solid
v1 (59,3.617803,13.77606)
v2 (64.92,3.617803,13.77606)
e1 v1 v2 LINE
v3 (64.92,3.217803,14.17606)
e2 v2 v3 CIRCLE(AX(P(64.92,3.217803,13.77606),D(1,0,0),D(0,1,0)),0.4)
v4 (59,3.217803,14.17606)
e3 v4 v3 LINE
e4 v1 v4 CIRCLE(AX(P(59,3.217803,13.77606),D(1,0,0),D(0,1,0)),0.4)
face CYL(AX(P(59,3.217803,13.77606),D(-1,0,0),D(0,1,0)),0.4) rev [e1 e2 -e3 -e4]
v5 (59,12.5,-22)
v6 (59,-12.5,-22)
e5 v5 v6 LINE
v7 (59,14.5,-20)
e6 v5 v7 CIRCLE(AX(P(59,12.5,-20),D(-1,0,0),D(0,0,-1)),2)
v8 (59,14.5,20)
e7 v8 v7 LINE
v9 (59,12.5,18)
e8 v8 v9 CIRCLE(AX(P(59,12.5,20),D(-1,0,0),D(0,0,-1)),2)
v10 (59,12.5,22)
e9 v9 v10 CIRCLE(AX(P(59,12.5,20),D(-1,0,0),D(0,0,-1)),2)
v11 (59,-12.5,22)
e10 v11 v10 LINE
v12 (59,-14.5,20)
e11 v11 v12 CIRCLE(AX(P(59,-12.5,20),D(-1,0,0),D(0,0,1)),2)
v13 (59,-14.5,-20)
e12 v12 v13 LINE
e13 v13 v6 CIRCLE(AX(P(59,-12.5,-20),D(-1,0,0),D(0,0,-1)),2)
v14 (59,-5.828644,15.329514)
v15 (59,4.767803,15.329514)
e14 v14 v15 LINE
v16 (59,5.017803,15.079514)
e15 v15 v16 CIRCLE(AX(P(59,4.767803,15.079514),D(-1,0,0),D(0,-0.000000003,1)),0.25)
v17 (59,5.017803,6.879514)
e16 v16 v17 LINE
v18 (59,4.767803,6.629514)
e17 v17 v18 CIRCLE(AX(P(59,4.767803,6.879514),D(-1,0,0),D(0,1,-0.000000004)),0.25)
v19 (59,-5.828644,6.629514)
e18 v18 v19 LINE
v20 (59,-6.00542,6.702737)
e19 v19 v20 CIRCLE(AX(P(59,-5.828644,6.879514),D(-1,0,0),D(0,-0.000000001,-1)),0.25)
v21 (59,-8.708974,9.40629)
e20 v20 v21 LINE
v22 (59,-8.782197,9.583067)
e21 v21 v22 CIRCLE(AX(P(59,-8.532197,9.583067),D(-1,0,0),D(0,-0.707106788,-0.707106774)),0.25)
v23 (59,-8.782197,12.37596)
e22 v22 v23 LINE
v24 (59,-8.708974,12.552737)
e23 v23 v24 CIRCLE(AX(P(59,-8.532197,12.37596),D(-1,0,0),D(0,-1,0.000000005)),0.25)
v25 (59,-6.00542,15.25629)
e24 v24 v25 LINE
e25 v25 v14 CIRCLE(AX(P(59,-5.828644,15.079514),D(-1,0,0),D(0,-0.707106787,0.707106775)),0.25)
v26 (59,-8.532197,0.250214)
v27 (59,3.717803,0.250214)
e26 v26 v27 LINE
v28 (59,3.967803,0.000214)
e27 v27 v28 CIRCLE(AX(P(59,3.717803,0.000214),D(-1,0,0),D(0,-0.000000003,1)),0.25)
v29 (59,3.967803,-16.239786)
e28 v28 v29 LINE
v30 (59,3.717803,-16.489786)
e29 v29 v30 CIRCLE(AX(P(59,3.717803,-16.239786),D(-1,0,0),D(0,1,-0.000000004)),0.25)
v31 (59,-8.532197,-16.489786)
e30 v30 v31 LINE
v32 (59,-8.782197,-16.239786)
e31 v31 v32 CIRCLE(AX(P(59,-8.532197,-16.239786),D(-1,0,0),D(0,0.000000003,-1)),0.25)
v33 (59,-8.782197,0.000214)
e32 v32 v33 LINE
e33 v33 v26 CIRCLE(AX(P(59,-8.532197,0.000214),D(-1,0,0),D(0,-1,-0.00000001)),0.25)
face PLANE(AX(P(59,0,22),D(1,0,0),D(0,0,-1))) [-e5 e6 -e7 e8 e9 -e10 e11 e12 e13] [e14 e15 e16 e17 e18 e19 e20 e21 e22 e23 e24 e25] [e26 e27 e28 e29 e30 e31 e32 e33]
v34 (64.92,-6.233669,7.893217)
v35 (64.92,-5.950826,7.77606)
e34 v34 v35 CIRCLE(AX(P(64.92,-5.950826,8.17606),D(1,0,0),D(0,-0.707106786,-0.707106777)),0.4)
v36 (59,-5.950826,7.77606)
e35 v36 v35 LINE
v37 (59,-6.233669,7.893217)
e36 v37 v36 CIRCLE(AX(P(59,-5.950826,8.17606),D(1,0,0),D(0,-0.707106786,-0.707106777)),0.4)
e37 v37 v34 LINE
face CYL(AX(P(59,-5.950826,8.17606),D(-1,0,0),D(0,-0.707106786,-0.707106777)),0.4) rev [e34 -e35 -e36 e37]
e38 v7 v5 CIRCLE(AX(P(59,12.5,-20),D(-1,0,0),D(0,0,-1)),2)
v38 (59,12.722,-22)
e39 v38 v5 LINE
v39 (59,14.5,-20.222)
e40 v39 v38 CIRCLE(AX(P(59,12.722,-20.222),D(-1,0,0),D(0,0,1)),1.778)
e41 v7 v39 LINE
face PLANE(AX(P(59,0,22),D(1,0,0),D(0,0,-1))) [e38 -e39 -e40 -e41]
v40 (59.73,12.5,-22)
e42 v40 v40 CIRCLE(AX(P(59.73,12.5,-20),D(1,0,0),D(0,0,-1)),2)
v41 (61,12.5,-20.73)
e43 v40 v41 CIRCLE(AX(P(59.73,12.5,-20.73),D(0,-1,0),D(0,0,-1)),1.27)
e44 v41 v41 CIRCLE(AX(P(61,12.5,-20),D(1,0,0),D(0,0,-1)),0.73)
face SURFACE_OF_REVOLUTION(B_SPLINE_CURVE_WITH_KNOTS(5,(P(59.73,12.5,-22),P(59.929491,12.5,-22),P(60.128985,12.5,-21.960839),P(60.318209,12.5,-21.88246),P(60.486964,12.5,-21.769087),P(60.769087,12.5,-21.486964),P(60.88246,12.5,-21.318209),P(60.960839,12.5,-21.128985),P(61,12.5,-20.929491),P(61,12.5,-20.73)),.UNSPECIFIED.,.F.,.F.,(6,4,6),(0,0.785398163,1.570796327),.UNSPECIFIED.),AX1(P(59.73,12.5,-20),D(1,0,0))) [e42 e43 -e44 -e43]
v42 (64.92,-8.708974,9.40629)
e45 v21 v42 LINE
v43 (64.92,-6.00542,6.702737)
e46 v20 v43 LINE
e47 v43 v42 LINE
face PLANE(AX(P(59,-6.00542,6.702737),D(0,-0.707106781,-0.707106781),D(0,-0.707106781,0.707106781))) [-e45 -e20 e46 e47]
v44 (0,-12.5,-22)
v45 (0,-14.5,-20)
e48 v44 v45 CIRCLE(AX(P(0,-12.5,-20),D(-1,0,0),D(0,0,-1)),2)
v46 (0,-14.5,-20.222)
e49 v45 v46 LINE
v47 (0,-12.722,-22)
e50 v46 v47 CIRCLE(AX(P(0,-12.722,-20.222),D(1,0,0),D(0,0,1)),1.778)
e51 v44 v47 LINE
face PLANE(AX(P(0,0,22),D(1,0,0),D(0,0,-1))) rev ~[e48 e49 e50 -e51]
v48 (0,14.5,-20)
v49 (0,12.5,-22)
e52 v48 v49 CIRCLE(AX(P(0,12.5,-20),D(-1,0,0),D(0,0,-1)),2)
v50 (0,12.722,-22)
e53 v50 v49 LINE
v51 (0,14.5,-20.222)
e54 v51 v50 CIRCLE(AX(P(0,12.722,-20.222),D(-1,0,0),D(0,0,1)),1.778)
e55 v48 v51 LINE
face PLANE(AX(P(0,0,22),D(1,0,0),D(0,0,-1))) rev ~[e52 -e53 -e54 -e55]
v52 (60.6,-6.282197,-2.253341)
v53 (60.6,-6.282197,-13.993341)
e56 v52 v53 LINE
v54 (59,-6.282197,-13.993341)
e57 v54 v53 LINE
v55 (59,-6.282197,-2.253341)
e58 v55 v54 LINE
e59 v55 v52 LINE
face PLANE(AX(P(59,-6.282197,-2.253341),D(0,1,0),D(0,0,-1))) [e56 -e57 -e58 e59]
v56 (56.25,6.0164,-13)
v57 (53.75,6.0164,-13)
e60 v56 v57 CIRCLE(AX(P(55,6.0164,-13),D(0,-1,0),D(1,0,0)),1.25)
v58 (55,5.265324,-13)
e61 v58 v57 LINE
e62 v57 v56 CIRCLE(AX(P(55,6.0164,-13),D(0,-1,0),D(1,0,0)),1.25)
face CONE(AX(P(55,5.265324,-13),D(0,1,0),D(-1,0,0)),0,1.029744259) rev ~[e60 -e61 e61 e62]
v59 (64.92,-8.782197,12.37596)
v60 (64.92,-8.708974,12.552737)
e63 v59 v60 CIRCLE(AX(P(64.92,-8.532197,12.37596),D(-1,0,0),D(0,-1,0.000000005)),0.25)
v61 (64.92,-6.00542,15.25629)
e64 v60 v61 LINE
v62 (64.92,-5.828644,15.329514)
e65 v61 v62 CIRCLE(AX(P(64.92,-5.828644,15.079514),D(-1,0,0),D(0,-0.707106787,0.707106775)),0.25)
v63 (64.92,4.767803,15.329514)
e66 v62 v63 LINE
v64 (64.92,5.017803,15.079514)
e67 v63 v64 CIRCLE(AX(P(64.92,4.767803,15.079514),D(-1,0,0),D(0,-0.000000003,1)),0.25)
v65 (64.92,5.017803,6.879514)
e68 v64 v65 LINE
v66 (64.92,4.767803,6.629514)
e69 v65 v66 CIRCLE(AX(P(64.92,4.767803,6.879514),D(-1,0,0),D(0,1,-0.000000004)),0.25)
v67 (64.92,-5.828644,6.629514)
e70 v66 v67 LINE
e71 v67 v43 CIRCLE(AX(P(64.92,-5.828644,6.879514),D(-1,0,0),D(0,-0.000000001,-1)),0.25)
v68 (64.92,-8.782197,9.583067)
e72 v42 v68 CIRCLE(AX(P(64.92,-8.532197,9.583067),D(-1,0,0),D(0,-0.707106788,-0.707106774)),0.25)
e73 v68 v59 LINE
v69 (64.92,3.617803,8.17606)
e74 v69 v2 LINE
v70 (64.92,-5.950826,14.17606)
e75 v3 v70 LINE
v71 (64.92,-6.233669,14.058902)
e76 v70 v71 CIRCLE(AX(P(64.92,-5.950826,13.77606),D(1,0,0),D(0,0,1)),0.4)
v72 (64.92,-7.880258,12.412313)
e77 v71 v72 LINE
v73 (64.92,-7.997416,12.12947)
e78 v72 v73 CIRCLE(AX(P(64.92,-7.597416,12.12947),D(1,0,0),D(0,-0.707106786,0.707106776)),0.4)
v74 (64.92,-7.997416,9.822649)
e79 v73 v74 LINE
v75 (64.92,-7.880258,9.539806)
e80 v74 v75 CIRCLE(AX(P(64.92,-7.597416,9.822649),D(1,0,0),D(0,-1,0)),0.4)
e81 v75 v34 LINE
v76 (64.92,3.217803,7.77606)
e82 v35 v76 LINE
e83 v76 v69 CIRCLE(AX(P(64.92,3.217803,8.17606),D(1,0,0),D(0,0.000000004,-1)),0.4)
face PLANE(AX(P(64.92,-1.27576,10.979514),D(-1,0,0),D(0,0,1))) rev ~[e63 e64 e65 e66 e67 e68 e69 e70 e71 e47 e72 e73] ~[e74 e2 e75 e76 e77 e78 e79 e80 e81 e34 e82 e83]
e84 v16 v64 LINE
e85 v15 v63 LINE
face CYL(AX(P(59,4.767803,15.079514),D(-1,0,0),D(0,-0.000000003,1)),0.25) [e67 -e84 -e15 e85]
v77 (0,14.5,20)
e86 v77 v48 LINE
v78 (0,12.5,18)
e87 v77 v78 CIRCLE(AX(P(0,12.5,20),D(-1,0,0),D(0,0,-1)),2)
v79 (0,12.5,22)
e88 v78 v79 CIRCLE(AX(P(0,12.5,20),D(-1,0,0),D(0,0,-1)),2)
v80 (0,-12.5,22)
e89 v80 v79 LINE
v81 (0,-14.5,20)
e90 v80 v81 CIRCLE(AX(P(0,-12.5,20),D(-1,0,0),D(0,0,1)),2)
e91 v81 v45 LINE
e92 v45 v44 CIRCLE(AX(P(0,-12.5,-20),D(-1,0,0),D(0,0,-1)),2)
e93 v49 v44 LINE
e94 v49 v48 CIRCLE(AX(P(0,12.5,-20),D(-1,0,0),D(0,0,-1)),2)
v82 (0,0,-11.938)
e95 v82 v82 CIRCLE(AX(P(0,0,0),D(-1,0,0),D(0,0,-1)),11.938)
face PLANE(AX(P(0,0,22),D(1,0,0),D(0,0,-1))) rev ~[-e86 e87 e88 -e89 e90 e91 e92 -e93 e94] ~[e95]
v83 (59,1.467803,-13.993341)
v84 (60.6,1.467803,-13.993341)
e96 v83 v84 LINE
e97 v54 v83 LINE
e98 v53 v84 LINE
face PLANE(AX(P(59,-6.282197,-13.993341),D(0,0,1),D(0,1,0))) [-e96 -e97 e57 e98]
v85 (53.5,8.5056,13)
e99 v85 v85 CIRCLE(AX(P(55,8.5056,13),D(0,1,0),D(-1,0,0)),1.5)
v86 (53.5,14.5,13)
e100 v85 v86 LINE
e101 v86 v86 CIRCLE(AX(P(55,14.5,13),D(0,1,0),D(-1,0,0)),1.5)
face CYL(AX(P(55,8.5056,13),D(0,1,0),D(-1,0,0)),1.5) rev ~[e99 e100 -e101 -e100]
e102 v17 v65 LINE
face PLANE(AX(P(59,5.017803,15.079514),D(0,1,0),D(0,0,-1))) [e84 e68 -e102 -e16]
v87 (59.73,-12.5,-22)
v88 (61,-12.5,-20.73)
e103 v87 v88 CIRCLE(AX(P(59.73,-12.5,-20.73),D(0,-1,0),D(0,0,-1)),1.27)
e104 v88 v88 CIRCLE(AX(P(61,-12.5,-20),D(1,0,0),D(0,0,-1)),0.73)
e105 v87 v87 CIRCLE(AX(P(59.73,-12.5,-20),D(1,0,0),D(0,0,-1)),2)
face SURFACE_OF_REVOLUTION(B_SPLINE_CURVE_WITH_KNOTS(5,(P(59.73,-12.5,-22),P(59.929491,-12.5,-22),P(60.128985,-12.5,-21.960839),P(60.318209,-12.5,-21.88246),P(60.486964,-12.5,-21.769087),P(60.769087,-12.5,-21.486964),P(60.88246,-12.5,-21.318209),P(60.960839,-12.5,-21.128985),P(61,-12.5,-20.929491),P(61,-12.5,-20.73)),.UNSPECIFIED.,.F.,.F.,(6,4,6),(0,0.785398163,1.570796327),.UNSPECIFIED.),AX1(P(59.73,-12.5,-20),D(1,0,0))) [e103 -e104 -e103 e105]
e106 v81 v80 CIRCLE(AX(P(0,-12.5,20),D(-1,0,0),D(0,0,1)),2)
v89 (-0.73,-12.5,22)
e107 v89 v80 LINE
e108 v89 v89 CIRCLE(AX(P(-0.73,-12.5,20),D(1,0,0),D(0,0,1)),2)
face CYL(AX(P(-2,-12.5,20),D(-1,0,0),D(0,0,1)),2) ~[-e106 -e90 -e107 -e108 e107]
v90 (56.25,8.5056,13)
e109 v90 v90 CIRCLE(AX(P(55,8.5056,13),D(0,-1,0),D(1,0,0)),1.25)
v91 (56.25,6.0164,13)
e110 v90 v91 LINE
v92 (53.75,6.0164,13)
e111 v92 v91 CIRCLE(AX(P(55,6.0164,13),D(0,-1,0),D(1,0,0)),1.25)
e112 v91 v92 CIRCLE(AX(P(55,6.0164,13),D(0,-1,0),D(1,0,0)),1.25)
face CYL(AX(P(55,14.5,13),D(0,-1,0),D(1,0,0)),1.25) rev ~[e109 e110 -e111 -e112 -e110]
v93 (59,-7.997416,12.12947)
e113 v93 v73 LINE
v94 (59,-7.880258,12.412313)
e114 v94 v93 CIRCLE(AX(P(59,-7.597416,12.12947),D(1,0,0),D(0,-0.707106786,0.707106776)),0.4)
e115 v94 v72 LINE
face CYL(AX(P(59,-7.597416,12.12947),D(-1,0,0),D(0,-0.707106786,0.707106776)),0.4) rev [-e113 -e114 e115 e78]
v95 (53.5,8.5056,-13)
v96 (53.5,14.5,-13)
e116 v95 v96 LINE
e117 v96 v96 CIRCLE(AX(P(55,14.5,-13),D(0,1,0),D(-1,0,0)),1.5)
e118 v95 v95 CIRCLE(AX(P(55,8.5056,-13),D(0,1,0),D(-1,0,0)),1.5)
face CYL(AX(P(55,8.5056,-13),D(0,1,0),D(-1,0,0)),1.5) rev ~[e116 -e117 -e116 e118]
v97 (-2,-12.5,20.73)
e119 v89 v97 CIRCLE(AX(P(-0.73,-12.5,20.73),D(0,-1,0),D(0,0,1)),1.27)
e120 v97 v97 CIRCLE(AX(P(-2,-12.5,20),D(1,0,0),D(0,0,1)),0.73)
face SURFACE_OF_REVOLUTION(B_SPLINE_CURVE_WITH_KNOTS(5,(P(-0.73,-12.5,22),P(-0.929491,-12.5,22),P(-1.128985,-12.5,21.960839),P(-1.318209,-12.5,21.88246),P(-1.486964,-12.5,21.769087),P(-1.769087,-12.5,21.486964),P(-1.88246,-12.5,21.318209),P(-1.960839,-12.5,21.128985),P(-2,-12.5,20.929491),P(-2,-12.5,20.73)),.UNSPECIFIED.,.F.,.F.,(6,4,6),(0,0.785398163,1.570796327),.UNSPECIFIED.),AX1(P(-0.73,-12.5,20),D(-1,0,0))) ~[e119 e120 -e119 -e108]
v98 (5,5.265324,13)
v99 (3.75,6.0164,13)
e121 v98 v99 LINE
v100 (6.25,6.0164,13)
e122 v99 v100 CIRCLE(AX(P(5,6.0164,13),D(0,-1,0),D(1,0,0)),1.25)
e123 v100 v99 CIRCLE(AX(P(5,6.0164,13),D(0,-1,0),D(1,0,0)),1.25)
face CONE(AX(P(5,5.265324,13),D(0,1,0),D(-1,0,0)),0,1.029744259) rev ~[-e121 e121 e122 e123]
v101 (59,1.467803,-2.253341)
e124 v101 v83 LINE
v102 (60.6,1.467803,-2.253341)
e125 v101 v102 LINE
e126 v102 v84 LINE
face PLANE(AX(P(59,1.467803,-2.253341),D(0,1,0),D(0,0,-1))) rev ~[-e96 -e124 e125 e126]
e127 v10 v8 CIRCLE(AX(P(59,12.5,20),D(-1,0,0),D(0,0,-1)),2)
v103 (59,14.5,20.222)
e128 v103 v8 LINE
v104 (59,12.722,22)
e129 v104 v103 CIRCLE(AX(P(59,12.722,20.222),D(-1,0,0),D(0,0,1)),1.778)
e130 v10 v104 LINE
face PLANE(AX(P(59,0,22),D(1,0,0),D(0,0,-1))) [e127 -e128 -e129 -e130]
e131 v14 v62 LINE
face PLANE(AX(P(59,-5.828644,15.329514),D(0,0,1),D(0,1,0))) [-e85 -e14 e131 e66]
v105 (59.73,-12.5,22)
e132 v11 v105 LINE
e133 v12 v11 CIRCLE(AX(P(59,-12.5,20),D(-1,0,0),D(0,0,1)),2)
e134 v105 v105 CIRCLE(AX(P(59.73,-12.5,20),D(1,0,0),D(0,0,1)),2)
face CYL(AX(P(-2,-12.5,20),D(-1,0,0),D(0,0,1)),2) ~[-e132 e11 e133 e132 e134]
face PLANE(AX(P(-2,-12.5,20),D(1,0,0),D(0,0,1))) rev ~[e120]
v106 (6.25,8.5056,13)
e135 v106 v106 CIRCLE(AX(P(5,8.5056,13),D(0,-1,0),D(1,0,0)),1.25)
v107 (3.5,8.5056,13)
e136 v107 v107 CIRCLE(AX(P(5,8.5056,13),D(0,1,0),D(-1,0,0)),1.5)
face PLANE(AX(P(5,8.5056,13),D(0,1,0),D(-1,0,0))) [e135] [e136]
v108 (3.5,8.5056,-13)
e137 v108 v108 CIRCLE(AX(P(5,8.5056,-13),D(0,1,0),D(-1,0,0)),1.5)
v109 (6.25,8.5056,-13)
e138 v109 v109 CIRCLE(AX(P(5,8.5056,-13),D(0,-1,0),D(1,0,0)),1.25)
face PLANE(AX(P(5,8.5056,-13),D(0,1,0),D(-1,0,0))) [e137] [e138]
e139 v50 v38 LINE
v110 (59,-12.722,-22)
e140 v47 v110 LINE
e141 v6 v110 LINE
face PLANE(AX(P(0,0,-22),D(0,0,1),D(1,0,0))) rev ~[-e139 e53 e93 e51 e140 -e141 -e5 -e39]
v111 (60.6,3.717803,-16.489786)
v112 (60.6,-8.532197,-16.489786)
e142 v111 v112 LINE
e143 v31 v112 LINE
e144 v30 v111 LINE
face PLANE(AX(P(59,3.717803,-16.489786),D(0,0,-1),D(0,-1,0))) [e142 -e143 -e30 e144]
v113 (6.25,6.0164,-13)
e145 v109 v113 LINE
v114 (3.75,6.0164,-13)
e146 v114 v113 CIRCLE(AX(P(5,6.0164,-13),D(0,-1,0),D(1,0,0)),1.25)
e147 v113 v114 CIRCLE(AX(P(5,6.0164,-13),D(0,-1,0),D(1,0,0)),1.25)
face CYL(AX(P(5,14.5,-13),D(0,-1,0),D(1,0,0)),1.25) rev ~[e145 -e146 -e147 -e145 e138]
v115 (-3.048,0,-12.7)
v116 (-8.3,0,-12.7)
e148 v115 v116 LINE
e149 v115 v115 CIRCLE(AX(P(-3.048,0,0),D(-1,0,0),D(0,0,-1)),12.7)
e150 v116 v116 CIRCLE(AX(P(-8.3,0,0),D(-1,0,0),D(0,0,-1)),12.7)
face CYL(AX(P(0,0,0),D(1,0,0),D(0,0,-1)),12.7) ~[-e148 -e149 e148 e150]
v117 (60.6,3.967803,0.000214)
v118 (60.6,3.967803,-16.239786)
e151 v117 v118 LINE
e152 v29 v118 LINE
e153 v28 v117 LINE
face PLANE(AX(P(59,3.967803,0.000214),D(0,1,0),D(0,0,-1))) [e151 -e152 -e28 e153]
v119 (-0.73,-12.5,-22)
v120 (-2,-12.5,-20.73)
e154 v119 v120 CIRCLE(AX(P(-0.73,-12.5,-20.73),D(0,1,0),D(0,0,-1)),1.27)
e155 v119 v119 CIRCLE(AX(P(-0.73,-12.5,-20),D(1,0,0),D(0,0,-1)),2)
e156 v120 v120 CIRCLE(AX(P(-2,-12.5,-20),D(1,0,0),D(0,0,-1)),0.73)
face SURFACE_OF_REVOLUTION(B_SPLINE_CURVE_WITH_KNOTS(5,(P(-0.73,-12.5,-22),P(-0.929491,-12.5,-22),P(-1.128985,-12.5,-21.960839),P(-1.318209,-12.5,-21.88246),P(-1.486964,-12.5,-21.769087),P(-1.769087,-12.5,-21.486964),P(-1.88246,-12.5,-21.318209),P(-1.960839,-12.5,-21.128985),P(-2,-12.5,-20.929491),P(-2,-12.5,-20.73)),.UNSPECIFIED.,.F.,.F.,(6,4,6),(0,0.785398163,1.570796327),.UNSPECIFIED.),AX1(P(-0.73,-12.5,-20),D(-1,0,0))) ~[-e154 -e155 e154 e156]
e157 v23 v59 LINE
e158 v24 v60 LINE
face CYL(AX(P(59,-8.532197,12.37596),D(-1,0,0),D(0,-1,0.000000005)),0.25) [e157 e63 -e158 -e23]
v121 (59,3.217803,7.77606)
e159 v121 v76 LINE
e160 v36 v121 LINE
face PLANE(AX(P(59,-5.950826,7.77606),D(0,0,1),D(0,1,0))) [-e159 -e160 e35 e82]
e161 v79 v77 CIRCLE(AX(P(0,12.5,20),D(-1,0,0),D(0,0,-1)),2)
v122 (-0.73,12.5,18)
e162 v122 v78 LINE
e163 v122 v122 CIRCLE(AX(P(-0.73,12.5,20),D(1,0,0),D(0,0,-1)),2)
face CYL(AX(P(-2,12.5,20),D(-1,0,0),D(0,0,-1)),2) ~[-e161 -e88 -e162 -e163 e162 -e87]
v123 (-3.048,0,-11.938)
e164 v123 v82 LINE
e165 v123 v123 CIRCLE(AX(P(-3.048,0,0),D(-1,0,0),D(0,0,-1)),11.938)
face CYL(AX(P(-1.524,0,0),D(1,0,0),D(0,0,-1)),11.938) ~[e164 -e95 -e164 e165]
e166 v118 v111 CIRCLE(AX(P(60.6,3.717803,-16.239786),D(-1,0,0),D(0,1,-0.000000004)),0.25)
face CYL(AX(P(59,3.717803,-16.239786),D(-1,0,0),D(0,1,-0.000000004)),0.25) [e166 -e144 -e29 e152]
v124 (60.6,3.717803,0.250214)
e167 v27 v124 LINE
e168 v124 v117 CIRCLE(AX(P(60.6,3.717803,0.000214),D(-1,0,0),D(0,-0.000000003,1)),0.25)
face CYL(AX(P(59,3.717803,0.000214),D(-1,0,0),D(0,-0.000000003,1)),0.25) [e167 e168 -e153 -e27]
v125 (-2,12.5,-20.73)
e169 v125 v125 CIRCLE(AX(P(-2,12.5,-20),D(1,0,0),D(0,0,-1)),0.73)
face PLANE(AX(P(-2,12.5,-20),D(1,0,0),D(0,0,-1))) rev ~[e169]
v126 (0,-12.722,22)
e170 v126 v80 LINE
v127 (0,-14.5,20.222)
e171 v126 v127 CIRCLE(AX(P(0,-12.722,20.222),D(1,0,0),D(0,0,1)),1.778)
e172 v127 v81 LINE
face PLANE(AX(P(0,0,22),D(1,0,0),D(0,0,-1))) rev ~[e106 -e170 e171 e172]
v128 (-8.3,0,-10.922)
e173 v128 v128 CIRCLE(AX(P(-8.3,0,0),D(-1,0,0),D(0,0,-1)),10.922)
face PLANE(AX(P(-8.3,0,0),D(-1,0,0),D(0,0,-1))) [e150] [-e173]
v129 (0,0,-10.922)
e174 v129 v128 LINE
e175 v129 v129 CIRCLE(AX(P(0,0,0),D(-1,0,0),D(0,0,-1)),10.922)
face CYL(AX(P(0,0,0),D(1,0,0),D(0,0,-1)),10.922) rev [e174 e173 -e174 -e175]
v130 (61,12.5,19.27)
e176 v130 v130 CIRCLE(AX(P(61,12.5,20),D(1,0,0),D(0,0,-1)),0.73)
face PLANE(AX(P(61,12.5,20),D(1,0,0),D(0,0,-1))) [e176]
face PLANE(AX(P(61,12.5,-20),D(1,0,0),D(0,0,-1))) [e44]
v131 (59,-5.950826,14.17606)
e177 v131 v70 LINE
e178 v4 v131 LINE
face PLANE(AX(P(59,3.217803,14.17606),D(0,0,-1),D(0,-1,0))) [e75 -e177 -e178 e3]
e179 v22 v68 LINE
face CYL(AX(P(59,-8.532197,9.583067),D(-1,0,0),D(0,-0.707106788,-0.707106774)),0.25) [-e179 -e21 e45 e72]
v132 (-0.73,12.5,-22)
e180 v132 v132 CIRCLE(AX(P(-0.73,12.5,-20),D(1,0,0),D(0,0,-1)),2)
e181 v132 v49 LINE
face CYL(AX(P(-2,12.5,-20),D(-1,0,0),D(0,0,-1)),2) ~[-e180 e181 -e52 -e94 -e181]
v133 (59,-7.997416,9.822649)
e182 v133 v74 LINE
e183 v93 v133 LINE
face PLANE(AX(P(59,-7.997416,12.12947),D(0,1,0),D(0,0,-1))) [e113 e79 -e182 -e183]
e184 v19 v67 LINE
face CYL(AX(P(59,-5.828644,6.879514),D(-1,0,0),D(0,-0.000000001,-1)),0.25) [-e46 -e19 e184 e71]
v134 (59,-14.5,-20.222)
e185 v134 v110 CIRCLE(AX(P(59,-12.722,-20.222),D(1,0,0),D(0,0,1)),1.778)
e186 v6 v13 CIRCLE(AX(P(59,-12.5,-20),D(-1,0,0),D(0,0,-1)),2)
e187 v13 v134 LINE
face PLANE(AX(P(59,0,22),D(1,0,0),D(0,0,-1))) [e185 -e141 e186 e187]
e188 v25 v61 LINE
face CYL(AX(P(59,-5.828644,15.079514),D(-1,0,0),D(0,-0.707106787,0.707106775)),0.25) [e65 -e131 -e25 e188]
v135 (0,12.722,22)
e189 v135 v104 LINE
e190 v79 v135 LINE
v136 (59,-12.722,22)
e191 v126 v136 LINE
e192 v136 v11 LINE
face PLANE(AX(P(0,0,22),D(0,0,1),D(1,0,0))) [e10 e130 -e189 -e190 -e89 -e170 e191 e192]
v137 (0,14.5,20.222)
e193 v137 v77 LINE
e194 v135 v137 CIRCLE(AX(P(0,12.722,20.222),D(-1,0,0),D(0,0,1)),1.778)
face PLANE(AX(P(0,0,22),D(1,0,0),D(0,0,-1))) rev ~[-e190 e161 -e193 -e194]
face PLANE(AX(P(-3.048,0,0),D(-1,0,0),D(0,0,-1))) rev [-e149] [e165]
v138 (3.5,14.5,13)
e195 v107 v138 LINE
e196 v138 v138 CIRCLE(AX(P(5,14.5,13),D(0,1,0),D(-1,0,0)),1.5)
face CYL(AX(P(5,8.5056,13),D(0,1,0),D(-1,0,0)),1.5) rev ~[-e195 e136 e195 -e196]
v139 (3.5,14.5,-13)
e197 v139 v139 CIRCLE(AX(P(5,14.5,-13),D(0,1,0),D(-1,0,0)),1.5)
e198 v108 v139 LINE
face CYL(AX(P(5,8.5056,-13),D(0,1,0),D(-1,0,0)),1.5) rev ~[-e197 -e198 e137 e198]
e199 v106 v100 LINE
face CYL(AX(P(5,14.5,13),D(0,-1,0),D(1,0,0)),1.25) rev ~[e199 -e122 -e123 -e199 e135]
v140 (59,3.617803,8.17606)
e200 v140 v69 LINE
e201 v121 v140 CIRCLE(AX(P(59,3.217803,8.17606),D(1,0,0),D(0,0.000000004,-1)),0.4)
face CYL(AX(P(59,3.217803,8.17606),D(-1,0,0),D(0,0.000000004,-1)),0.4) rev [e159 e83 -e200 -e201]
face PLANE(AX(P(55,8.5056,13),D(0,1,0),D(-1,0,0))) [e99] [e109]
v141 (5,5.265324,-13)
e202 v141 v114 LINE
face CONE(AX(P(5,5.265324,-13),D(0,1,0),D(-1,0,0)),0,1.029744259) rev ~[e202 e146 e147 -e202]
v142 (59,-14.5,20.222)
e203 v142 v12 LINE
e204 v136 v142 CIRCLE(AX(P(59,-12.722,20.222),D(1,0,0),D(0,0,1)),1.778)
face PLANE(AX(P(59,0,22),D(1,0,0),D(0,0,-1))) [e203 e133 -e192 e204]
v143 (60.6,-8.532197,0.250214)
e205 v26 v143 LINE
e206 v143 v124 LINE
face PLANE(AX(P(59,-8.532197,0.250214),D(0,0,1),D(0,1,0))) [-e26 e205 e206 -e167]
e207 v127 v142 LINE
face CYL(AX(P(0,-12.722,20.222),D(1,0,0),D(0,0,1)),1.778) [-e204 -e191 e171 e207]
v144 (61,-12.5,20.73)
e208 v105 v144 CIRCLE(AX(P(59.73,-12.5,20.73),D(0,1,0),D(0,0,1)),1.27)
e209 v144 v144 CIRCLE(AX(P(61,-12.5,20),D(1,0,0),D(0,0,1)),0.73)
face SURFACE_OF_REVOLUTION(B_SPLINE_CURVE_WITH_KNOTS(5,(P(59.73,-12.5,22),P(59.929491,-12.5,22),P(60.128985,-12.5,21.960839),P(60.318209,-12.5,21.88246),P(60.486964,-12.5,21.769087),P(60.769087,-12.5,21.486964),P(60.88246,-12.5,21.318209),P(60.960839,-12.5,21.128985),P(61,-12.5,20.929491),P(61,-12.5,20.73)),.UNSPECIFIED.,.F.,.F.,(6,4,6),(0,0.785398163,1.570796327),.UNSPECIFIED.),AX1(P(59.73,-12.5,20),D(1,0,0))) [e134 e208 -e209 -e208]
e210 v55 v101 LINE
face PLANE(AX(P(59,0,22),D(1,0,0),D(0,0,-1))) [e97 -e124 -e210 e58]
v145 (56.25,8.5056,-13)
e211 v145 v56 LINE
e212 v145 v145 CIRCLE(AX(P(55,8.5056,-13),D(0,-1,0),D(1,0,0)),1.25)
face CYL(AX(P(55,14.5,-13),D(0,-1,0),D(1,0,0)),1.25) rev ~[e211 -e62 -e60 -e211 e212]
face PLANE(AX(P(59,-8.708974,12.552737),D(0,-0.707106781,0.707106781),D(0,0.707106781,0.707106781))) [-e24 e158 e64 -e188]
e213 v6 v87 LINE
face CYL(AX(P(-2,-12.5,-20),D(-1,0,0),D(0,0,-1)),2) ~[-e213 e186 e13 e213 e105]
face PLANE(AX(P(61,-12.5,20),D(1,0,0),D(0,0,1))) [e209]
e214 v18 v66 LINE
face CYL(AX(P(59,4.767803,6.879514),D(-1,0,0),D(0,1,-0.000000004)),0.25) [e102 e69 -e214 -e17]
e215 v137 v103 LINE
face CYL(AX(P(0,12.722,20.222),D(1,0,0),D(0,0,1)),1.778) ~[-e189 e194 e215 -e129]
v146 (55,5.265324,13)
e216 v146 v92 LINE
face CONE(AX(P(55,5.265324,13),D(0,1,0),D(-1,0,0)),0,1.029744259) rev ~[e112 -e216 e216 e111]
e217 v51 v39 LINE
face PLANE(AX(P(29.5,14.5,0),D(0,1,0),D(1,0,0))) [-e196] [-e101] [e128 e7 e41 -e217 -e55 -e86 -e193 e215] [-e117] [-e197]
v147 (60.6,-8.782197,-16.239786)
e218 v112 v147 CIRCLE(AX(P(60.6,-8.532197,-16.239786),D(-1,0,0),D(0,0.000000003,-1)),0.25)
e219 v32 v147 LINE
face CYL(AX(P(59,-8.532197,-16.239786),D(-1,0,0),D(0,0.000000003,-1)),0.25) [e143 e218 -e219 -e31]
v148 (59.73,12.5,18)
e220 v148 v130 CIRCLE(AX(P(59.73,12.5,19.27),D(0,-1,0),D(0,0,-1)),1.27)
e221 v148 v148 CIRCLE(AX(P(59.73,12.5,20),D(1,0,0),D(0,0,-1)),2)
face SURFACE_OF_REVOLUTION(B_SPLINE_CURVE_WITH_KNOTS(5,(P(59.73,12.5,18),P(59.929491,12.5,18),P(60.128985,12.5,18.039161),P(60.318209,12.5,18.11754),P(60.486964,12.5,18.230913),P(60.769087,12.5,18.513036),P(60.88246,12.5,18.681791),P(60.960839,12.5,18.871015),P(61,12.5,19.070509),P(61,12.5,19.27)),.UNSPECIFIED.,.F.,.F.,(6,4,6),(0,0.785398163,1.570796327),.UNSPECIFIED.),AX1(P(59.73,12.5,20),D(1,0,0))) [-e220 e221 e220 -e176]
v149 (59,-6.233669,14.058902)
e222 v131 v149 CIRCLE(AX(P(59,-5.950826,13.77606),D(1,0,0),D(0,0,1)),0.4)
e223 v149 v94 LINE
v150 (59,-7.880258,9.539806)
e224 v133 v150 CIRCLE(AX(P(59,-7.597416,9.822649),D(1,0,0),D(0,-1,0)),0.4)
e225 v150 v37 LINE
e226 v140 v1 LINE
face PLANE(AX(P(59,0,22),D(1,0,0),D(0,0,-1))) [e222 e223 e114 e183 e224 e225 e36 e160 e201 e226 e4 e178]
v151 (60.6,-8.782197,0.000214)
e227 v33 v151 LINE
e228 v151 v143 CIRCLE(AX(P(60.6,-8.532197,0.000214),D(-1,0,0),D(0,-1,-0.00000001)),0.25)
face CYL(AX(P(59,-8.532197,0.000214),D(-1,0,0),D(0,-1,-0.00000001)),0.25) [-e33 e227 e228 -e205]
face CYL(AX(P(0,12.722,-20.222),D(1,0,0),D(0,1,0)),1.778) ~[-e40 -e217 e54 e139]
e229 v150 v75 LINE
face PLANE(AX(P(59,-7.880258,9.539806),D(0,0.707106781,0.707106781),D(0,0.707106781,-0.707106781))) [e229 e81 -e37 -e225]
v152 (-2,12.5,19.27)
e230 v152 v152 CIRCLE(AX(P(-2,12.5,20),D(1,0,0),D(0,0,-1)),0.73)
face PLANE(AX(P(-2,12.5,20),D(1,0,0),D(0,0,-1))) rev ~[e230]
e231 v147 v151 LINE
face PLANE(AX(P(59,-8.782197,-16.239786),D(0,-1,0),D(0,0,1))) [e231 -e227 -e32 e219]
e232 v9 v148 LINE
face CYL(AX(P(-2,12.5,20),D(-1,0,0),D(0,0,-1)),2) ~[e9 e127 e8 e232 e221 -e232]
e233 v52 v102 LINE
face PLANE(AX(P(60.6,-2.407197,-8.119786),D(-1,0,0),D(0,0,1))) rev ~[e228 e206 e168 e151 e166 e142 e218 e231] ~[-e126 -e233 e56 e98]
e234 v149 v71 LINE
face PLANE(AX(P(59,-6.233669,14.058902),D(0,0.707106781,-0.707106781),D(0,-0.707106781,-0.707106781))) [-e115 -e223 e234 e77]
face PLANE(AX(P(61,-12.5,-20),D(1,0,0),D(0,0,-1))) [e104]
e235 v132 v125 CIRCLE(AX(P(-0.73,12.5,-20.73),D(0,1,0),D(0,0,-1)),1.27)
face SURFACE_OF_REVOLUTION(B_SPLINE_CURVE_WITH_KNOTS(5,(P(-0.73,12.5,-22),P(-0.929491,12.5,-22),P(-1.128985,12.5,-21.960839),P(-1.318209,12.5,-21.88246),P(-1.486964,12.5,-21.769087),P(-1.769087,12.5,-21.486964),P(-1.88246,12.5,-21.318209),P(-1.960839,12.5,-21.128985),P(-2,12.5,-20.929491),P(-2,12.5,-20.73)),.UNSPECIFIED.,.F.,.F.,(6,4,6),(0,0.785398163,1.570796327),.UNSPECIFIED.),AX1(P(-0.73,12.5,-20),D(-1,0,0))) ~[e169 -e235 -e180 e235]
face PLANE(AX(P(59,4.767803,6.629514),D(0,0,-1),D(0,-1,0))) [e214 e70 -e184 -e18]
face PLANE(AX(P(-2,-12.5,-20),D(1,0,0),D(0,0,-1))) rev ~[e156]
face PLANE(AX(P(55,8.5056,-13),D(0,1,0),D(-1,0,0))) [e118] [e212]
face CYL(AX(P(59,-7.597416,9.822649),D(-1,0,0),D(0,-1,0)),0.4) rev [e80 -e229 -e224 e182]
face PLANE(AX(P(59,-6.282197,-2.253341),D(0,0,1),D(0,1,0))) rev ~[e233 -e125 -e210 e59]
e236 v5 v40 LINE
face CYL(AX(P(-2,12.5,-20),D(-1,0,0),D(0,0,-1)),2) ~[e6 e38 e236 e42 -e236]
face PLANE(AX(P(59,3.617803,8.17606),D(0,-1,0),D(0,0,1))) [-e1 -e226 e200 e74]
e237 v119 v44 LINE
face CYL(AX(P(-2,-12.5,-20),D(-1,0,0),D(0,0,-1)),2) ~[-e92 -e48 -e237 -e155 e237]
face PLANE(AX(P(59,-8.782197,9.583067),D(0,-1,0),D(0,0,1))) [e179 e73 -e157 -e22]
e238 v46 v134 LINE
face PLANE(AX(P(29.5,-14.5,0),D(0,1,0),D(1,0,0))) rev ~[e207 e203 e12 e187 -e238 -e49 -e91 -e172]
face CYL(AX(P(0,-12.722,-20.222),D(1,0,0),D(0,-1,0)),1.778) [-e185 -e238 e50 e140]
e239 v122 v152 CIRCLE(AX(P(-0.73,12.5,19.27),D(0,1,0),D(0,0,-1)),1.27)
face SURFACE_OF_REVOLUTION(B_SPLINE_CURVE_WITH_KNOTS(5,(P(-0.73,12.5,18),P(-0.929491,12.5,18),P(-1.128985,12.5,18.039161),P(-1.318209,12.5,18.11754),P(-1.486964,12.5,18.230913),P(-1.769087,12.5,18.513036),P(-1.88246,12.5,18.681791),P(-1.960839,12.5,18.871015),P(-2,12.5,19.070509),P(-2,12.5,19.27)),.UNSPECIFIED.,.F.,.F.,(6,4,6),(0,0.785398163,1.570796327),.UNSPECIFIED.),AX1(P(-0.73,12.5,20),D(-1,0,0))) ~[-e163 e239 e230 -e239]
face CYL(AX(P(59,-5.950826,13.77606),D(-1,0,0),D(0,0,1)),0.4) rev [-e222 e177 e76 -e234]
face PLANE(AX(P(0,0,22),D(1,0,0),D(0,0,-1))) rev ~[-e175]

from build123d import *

# Parameters (mm, degrees)
SKETCH1_W                       = 59
SKETCH1_H                       = 44
EXTRUDE1_DEPTH                  = 14.5
SKETCH2_R                       = 12.7
SKETCH2_R_2                     = 10.922
EXTRUDE2_DEPTH                  = 8.3
SKETCH3_W                       = 3.048
SKETCH3_H                       = 0.762
FILLET3_R                       = 1.778
EXTRUDE3_DEPTH                  = 2
EXTRUDE3_DEPTH_BACK             = 61
SKETCH5_R                       = 2
FILLET1_R                       = 1.27
EXTRUDE4_DEPTH                  = 5.92
SKETCH7_W                       = 11.74
SKETCH7_H                       = 7.75
EXTRUDE5_DEPTH                  = 1.6
M3X0_5_TAPPED_HOLE1_D           = 2.5
M3X0_5_TAPPED_HOLE1_DEPTH       = 8.4836
M3X0_5_TAPPED_HOLE1_CBORE_D     = 3
M3X0_5_TAPPED_HOLE1_CBORE_DEPTH = 5.9944
M3X0_5_TAPPED_HOLE1_TIP         = 0.751075774


with BuildPart() as part:
    # Sketch1 → Extrude1 (new, symmetric)
    with BuildSketch(Plane(origin=(0, 0, 0), x_dir=(1, 0, 0), z_dir=(0, 1, 0))):
        with Locations((29.5, 0)):
            Rectangle(SKETCH1_W, SKETCH1_H)
    extrude(amount=EXTRUDE1_DEPTH, both=True)

    # Sketch2 → Extrude2 (add)
    with BuildSketch(Plane.ZY):
        with Locations(Location((0, 0, 0), (0, 0, 180))):
            Circle(SKETCH2_R)
        with Locations(Location((0, 0, 0), (0, 0, 180))):
            Circle(SKETCH2_R_2, mode=Mode.SUBTRACT)
    extrude(amount=EXTRUDE2_DEPTH)

    # Sketch3 → Cut-Revolve1 (revolve, cut)
    with BuildSketch(Plane(origin=(0, 0, 0), x_dir=(1, 0, 0), z_dir=(0, 1, 0))):
        with Locations((-1.524, 12.319)):
            Rectangle(SKETCH3_W, SKETCH3_H)
    revolve(axis=Axis((0, 0, 0), (-1, 0, 0)), mode=Mode.SUBTRACT)

    # Fillet3
    fillet3_edges = [part.edges().sort_by_distance(p)[0] for p in [
        (29.5, 14.5, -22),
        (29.5, -14.5, -22),
        (29.5, -14.5, 22),
        (29.5, 14.5, 22),
    ]]
    fillet(fillet3_edges, radius=FILLET3_R)

    # Sketch5 → Extrude3 (add, two sides: drawn at the far end of the back side and taken through both)
    with BuildSketch(Plane(origin=(59, 0, 0), x_dir=(0, 0, -1), z_dir=(1, 0, 0)).offset(-EXTRUDE3_DEPTH_BACK)):
        with Locations((-20, 12.5)):
            Circle(SKETCH5_R)
        with Locations((20, 12.5)):
            Circle(SKETCH5_R)
        with Locations((20, -12.5)):
            Circle(SKETCH5_R)
        with Locations(Location((-20, -12.5, 0), (0, 0, 180))):
            Circle(SKETCH5_R)
    extrude(amount=EXTRUDE3_DEPTH + EXTRUDE3_DEPTH_BACK)

    # Fillet1
    fillet1_edges = [part.edges().sort_by_distance(p)[0] for p in [
        (-2, 12.5, 22),
        (61, 12.5, 22),
        (-2, 12.5, -18),
        (61, 12.5, -18),
        (-2, -12.5, -18),
        (61, -12.5, -18),
        (-2, -12.5, 18),
        (61, -12.5, 18),
    ]]
    fillet(fillet1_edges, radius=FILLET1_R)

    # Sketch6 → Extrude4 (add)
    with BuildSketch(Plane(origin=(59, 0, 0), x_dir=(0, 0, -1), z_dir=(1, 0, 0))):
        with BuildLine():
            Line((-12.552737025, -8.708973683), (-15.256290416, -6.005420292))
            ThreePointArc((-15.256290416, -6.005420292), (-15.310483604, -5.924314455), (-15.32951372, -5.828643597))
            Line((-15.32951372, -5.828643597), (-15.32951372, 4.767803013))
            ThreePointArc((-15.32951372, 4.767803013), (-15.256290416, 4.944579708), (-15.07951372, 5.017803013))
            Line((-15.07951372, 5.017803013), (-6.87951372, 5.017803013))
            ThreePointArc((-6.87951372, 5.017803013), (-6.702737025, 4.944579708), (-6.62951372, 4.767803013))
            Line((-6.62951372, 4.767803013), (-6.62951372, -5.828643597))
            ThreePointArc((-6.62951372, -5.828643597), (-6.648543837, -5.924314455), (-6.702737025, -6.005420292))
            Line((-6.702737025, -6.005420292), (-9.406290416, -8.708973683))
            ThreePointArc((-9.406290416, -8.708973683), (-9.487396253, -8.76316687), (-9.583067111, -8.782196987))
            Line((-9.583067111, -8.782196987), (-9.822649185, -8.782196987))
            Line((-9.822649185, -8.782196987), (-12.129470259, -8.782196987))
            Line((-12.129470259, -8.782196987), (-12.37596033, -8.782196987))
            ThreePointArc((-12.37596033, -8.782196987), (-12.471631188, -8.76316687), (-12.552737025, -8.708973683))
        make_face()
        with BuildLine():
            Line((-14.058902435, -6.23366885), (-12.412312972, -7.880258313))
            ThreePointArc((-12.412312972, -7.880258313), (-12.282543632, -7.966967413), (-12.129470259, -7.9974156))
            Line((-12.129470259, -7.9974156), (-9.822649185, -7.9974156))
            ThreePointArc((-9.822649185, -7.9974156), (-9.669575812, -7.966967413), (-9.539806473, -7.880258313))
            Line((-9.539806473, -7.880258313), (-7.89321701, -6.23366885))
            ThreePointArc((-7.89321701, -6.23366885), (-7.806507909, -6.103899511), (-7.776059722, -5.950826138))
            Line((-7.776059722, -5.950826138), (-7.776059722, 3.217803013))
            ThreePointArc((-7.776059722, 3.217803013), (-7.89321701, 3.500645725), (-8.176059722, 3.617803013))
            Line((-8.176059722, 3.617803013), (-13.776059722, 3.617803013))
            ThreePointArc((-13.776059722, 3.617803013), (-14.058902435, 3.500645725), (-14.176059722, 3.217803013))
            Line((-14.176059722, 3.217803013), (-14.176059722, -5.950826138))
            ThreePointArc((-14.176059722, -5.950826138), (-14.145611535, -6.103899511), (-14.058902435, -6.23366885))
        make_face(mode=Mode.SUBTRACT)
    extrude(amount=EXTRUDE4_DEPTH)

    # Sketch7 → Extrude5 (add)
    with BuildSketch(Plane(origin=(59, 0, 0), x_dir=(0, 0, -1), z_dir=(1, 0, 0))):
        with BuildLine():
            Line((-0.00021372, 3.967803013), (16.23978628, 3.967803013))
            ThreePointArc((16.23978628, 3.967803013), (16.416562975, 3.894579708), (16.48978628, 3.717803013))
            Line((16.48978628, 3.717803013), (16.48978628, -8.532196987))
            ThreePointArc((16.48978628, -8.532196987), (16.416562975, -8.708973683), (16.23978628, -8.782196987))
            Line((16.23978628, -8.782196987), (-0.00021372, -8.782196987))
            ThreePointArc((-0.00021372, -8.782196987), (-0.176990416, -8.708973683), (-0.25021372, -8.532196987))
            Line((-0.25021372, -8.532196987), (-0.25021372, 3.717803013))
            ThreePointArc((-0.25021372, 3.717803013), (-0.176990416, 3.894579708), (-0.00021372, 3.967803013))
        make_face()
        with Locations((8.123341158, -2.407196987)):
            Rectangle(SKETCH7_W, SKETCH7_H, mode=Mode.SUBTRACT)
    extrude(amount=EXTRUDE5_DEPTH)

    # M3x0.5 Tapped Hole1
    with Locations(Plane(origin=(0, 14.5, 0), x_dir=(-1, 0, 0), z_dir=(0, 1, 0))):
        with Locations((-55, 13), (-55, -13), (-5, -13), (-5, 13)):
            CounterBoreHole(M3X0_5_TAPPED_HOLE1_D / 2, M3X0_5_TAPPED_HOLE1_CBORE_D / 2, M3X0_5_TAPPED_HOLE1_CBORE_DEPTH, depth=M3X0_5_TAPPED_HOLE1_DEPTH)
            with Locations((0, 0, -(M3X0_5_TAPPED_HOLE1_DEPTH + M3X0_5_TAPPED_HOLE1_TIP / 2))):  # 118° drill point
                Cone(0, M3X0_5_TAPPED_HOLE1_D / 2, M3X0_5_TAPPED_HOLE1_TIP, mode=Mode.SUBTRACT)


solid = part.part
